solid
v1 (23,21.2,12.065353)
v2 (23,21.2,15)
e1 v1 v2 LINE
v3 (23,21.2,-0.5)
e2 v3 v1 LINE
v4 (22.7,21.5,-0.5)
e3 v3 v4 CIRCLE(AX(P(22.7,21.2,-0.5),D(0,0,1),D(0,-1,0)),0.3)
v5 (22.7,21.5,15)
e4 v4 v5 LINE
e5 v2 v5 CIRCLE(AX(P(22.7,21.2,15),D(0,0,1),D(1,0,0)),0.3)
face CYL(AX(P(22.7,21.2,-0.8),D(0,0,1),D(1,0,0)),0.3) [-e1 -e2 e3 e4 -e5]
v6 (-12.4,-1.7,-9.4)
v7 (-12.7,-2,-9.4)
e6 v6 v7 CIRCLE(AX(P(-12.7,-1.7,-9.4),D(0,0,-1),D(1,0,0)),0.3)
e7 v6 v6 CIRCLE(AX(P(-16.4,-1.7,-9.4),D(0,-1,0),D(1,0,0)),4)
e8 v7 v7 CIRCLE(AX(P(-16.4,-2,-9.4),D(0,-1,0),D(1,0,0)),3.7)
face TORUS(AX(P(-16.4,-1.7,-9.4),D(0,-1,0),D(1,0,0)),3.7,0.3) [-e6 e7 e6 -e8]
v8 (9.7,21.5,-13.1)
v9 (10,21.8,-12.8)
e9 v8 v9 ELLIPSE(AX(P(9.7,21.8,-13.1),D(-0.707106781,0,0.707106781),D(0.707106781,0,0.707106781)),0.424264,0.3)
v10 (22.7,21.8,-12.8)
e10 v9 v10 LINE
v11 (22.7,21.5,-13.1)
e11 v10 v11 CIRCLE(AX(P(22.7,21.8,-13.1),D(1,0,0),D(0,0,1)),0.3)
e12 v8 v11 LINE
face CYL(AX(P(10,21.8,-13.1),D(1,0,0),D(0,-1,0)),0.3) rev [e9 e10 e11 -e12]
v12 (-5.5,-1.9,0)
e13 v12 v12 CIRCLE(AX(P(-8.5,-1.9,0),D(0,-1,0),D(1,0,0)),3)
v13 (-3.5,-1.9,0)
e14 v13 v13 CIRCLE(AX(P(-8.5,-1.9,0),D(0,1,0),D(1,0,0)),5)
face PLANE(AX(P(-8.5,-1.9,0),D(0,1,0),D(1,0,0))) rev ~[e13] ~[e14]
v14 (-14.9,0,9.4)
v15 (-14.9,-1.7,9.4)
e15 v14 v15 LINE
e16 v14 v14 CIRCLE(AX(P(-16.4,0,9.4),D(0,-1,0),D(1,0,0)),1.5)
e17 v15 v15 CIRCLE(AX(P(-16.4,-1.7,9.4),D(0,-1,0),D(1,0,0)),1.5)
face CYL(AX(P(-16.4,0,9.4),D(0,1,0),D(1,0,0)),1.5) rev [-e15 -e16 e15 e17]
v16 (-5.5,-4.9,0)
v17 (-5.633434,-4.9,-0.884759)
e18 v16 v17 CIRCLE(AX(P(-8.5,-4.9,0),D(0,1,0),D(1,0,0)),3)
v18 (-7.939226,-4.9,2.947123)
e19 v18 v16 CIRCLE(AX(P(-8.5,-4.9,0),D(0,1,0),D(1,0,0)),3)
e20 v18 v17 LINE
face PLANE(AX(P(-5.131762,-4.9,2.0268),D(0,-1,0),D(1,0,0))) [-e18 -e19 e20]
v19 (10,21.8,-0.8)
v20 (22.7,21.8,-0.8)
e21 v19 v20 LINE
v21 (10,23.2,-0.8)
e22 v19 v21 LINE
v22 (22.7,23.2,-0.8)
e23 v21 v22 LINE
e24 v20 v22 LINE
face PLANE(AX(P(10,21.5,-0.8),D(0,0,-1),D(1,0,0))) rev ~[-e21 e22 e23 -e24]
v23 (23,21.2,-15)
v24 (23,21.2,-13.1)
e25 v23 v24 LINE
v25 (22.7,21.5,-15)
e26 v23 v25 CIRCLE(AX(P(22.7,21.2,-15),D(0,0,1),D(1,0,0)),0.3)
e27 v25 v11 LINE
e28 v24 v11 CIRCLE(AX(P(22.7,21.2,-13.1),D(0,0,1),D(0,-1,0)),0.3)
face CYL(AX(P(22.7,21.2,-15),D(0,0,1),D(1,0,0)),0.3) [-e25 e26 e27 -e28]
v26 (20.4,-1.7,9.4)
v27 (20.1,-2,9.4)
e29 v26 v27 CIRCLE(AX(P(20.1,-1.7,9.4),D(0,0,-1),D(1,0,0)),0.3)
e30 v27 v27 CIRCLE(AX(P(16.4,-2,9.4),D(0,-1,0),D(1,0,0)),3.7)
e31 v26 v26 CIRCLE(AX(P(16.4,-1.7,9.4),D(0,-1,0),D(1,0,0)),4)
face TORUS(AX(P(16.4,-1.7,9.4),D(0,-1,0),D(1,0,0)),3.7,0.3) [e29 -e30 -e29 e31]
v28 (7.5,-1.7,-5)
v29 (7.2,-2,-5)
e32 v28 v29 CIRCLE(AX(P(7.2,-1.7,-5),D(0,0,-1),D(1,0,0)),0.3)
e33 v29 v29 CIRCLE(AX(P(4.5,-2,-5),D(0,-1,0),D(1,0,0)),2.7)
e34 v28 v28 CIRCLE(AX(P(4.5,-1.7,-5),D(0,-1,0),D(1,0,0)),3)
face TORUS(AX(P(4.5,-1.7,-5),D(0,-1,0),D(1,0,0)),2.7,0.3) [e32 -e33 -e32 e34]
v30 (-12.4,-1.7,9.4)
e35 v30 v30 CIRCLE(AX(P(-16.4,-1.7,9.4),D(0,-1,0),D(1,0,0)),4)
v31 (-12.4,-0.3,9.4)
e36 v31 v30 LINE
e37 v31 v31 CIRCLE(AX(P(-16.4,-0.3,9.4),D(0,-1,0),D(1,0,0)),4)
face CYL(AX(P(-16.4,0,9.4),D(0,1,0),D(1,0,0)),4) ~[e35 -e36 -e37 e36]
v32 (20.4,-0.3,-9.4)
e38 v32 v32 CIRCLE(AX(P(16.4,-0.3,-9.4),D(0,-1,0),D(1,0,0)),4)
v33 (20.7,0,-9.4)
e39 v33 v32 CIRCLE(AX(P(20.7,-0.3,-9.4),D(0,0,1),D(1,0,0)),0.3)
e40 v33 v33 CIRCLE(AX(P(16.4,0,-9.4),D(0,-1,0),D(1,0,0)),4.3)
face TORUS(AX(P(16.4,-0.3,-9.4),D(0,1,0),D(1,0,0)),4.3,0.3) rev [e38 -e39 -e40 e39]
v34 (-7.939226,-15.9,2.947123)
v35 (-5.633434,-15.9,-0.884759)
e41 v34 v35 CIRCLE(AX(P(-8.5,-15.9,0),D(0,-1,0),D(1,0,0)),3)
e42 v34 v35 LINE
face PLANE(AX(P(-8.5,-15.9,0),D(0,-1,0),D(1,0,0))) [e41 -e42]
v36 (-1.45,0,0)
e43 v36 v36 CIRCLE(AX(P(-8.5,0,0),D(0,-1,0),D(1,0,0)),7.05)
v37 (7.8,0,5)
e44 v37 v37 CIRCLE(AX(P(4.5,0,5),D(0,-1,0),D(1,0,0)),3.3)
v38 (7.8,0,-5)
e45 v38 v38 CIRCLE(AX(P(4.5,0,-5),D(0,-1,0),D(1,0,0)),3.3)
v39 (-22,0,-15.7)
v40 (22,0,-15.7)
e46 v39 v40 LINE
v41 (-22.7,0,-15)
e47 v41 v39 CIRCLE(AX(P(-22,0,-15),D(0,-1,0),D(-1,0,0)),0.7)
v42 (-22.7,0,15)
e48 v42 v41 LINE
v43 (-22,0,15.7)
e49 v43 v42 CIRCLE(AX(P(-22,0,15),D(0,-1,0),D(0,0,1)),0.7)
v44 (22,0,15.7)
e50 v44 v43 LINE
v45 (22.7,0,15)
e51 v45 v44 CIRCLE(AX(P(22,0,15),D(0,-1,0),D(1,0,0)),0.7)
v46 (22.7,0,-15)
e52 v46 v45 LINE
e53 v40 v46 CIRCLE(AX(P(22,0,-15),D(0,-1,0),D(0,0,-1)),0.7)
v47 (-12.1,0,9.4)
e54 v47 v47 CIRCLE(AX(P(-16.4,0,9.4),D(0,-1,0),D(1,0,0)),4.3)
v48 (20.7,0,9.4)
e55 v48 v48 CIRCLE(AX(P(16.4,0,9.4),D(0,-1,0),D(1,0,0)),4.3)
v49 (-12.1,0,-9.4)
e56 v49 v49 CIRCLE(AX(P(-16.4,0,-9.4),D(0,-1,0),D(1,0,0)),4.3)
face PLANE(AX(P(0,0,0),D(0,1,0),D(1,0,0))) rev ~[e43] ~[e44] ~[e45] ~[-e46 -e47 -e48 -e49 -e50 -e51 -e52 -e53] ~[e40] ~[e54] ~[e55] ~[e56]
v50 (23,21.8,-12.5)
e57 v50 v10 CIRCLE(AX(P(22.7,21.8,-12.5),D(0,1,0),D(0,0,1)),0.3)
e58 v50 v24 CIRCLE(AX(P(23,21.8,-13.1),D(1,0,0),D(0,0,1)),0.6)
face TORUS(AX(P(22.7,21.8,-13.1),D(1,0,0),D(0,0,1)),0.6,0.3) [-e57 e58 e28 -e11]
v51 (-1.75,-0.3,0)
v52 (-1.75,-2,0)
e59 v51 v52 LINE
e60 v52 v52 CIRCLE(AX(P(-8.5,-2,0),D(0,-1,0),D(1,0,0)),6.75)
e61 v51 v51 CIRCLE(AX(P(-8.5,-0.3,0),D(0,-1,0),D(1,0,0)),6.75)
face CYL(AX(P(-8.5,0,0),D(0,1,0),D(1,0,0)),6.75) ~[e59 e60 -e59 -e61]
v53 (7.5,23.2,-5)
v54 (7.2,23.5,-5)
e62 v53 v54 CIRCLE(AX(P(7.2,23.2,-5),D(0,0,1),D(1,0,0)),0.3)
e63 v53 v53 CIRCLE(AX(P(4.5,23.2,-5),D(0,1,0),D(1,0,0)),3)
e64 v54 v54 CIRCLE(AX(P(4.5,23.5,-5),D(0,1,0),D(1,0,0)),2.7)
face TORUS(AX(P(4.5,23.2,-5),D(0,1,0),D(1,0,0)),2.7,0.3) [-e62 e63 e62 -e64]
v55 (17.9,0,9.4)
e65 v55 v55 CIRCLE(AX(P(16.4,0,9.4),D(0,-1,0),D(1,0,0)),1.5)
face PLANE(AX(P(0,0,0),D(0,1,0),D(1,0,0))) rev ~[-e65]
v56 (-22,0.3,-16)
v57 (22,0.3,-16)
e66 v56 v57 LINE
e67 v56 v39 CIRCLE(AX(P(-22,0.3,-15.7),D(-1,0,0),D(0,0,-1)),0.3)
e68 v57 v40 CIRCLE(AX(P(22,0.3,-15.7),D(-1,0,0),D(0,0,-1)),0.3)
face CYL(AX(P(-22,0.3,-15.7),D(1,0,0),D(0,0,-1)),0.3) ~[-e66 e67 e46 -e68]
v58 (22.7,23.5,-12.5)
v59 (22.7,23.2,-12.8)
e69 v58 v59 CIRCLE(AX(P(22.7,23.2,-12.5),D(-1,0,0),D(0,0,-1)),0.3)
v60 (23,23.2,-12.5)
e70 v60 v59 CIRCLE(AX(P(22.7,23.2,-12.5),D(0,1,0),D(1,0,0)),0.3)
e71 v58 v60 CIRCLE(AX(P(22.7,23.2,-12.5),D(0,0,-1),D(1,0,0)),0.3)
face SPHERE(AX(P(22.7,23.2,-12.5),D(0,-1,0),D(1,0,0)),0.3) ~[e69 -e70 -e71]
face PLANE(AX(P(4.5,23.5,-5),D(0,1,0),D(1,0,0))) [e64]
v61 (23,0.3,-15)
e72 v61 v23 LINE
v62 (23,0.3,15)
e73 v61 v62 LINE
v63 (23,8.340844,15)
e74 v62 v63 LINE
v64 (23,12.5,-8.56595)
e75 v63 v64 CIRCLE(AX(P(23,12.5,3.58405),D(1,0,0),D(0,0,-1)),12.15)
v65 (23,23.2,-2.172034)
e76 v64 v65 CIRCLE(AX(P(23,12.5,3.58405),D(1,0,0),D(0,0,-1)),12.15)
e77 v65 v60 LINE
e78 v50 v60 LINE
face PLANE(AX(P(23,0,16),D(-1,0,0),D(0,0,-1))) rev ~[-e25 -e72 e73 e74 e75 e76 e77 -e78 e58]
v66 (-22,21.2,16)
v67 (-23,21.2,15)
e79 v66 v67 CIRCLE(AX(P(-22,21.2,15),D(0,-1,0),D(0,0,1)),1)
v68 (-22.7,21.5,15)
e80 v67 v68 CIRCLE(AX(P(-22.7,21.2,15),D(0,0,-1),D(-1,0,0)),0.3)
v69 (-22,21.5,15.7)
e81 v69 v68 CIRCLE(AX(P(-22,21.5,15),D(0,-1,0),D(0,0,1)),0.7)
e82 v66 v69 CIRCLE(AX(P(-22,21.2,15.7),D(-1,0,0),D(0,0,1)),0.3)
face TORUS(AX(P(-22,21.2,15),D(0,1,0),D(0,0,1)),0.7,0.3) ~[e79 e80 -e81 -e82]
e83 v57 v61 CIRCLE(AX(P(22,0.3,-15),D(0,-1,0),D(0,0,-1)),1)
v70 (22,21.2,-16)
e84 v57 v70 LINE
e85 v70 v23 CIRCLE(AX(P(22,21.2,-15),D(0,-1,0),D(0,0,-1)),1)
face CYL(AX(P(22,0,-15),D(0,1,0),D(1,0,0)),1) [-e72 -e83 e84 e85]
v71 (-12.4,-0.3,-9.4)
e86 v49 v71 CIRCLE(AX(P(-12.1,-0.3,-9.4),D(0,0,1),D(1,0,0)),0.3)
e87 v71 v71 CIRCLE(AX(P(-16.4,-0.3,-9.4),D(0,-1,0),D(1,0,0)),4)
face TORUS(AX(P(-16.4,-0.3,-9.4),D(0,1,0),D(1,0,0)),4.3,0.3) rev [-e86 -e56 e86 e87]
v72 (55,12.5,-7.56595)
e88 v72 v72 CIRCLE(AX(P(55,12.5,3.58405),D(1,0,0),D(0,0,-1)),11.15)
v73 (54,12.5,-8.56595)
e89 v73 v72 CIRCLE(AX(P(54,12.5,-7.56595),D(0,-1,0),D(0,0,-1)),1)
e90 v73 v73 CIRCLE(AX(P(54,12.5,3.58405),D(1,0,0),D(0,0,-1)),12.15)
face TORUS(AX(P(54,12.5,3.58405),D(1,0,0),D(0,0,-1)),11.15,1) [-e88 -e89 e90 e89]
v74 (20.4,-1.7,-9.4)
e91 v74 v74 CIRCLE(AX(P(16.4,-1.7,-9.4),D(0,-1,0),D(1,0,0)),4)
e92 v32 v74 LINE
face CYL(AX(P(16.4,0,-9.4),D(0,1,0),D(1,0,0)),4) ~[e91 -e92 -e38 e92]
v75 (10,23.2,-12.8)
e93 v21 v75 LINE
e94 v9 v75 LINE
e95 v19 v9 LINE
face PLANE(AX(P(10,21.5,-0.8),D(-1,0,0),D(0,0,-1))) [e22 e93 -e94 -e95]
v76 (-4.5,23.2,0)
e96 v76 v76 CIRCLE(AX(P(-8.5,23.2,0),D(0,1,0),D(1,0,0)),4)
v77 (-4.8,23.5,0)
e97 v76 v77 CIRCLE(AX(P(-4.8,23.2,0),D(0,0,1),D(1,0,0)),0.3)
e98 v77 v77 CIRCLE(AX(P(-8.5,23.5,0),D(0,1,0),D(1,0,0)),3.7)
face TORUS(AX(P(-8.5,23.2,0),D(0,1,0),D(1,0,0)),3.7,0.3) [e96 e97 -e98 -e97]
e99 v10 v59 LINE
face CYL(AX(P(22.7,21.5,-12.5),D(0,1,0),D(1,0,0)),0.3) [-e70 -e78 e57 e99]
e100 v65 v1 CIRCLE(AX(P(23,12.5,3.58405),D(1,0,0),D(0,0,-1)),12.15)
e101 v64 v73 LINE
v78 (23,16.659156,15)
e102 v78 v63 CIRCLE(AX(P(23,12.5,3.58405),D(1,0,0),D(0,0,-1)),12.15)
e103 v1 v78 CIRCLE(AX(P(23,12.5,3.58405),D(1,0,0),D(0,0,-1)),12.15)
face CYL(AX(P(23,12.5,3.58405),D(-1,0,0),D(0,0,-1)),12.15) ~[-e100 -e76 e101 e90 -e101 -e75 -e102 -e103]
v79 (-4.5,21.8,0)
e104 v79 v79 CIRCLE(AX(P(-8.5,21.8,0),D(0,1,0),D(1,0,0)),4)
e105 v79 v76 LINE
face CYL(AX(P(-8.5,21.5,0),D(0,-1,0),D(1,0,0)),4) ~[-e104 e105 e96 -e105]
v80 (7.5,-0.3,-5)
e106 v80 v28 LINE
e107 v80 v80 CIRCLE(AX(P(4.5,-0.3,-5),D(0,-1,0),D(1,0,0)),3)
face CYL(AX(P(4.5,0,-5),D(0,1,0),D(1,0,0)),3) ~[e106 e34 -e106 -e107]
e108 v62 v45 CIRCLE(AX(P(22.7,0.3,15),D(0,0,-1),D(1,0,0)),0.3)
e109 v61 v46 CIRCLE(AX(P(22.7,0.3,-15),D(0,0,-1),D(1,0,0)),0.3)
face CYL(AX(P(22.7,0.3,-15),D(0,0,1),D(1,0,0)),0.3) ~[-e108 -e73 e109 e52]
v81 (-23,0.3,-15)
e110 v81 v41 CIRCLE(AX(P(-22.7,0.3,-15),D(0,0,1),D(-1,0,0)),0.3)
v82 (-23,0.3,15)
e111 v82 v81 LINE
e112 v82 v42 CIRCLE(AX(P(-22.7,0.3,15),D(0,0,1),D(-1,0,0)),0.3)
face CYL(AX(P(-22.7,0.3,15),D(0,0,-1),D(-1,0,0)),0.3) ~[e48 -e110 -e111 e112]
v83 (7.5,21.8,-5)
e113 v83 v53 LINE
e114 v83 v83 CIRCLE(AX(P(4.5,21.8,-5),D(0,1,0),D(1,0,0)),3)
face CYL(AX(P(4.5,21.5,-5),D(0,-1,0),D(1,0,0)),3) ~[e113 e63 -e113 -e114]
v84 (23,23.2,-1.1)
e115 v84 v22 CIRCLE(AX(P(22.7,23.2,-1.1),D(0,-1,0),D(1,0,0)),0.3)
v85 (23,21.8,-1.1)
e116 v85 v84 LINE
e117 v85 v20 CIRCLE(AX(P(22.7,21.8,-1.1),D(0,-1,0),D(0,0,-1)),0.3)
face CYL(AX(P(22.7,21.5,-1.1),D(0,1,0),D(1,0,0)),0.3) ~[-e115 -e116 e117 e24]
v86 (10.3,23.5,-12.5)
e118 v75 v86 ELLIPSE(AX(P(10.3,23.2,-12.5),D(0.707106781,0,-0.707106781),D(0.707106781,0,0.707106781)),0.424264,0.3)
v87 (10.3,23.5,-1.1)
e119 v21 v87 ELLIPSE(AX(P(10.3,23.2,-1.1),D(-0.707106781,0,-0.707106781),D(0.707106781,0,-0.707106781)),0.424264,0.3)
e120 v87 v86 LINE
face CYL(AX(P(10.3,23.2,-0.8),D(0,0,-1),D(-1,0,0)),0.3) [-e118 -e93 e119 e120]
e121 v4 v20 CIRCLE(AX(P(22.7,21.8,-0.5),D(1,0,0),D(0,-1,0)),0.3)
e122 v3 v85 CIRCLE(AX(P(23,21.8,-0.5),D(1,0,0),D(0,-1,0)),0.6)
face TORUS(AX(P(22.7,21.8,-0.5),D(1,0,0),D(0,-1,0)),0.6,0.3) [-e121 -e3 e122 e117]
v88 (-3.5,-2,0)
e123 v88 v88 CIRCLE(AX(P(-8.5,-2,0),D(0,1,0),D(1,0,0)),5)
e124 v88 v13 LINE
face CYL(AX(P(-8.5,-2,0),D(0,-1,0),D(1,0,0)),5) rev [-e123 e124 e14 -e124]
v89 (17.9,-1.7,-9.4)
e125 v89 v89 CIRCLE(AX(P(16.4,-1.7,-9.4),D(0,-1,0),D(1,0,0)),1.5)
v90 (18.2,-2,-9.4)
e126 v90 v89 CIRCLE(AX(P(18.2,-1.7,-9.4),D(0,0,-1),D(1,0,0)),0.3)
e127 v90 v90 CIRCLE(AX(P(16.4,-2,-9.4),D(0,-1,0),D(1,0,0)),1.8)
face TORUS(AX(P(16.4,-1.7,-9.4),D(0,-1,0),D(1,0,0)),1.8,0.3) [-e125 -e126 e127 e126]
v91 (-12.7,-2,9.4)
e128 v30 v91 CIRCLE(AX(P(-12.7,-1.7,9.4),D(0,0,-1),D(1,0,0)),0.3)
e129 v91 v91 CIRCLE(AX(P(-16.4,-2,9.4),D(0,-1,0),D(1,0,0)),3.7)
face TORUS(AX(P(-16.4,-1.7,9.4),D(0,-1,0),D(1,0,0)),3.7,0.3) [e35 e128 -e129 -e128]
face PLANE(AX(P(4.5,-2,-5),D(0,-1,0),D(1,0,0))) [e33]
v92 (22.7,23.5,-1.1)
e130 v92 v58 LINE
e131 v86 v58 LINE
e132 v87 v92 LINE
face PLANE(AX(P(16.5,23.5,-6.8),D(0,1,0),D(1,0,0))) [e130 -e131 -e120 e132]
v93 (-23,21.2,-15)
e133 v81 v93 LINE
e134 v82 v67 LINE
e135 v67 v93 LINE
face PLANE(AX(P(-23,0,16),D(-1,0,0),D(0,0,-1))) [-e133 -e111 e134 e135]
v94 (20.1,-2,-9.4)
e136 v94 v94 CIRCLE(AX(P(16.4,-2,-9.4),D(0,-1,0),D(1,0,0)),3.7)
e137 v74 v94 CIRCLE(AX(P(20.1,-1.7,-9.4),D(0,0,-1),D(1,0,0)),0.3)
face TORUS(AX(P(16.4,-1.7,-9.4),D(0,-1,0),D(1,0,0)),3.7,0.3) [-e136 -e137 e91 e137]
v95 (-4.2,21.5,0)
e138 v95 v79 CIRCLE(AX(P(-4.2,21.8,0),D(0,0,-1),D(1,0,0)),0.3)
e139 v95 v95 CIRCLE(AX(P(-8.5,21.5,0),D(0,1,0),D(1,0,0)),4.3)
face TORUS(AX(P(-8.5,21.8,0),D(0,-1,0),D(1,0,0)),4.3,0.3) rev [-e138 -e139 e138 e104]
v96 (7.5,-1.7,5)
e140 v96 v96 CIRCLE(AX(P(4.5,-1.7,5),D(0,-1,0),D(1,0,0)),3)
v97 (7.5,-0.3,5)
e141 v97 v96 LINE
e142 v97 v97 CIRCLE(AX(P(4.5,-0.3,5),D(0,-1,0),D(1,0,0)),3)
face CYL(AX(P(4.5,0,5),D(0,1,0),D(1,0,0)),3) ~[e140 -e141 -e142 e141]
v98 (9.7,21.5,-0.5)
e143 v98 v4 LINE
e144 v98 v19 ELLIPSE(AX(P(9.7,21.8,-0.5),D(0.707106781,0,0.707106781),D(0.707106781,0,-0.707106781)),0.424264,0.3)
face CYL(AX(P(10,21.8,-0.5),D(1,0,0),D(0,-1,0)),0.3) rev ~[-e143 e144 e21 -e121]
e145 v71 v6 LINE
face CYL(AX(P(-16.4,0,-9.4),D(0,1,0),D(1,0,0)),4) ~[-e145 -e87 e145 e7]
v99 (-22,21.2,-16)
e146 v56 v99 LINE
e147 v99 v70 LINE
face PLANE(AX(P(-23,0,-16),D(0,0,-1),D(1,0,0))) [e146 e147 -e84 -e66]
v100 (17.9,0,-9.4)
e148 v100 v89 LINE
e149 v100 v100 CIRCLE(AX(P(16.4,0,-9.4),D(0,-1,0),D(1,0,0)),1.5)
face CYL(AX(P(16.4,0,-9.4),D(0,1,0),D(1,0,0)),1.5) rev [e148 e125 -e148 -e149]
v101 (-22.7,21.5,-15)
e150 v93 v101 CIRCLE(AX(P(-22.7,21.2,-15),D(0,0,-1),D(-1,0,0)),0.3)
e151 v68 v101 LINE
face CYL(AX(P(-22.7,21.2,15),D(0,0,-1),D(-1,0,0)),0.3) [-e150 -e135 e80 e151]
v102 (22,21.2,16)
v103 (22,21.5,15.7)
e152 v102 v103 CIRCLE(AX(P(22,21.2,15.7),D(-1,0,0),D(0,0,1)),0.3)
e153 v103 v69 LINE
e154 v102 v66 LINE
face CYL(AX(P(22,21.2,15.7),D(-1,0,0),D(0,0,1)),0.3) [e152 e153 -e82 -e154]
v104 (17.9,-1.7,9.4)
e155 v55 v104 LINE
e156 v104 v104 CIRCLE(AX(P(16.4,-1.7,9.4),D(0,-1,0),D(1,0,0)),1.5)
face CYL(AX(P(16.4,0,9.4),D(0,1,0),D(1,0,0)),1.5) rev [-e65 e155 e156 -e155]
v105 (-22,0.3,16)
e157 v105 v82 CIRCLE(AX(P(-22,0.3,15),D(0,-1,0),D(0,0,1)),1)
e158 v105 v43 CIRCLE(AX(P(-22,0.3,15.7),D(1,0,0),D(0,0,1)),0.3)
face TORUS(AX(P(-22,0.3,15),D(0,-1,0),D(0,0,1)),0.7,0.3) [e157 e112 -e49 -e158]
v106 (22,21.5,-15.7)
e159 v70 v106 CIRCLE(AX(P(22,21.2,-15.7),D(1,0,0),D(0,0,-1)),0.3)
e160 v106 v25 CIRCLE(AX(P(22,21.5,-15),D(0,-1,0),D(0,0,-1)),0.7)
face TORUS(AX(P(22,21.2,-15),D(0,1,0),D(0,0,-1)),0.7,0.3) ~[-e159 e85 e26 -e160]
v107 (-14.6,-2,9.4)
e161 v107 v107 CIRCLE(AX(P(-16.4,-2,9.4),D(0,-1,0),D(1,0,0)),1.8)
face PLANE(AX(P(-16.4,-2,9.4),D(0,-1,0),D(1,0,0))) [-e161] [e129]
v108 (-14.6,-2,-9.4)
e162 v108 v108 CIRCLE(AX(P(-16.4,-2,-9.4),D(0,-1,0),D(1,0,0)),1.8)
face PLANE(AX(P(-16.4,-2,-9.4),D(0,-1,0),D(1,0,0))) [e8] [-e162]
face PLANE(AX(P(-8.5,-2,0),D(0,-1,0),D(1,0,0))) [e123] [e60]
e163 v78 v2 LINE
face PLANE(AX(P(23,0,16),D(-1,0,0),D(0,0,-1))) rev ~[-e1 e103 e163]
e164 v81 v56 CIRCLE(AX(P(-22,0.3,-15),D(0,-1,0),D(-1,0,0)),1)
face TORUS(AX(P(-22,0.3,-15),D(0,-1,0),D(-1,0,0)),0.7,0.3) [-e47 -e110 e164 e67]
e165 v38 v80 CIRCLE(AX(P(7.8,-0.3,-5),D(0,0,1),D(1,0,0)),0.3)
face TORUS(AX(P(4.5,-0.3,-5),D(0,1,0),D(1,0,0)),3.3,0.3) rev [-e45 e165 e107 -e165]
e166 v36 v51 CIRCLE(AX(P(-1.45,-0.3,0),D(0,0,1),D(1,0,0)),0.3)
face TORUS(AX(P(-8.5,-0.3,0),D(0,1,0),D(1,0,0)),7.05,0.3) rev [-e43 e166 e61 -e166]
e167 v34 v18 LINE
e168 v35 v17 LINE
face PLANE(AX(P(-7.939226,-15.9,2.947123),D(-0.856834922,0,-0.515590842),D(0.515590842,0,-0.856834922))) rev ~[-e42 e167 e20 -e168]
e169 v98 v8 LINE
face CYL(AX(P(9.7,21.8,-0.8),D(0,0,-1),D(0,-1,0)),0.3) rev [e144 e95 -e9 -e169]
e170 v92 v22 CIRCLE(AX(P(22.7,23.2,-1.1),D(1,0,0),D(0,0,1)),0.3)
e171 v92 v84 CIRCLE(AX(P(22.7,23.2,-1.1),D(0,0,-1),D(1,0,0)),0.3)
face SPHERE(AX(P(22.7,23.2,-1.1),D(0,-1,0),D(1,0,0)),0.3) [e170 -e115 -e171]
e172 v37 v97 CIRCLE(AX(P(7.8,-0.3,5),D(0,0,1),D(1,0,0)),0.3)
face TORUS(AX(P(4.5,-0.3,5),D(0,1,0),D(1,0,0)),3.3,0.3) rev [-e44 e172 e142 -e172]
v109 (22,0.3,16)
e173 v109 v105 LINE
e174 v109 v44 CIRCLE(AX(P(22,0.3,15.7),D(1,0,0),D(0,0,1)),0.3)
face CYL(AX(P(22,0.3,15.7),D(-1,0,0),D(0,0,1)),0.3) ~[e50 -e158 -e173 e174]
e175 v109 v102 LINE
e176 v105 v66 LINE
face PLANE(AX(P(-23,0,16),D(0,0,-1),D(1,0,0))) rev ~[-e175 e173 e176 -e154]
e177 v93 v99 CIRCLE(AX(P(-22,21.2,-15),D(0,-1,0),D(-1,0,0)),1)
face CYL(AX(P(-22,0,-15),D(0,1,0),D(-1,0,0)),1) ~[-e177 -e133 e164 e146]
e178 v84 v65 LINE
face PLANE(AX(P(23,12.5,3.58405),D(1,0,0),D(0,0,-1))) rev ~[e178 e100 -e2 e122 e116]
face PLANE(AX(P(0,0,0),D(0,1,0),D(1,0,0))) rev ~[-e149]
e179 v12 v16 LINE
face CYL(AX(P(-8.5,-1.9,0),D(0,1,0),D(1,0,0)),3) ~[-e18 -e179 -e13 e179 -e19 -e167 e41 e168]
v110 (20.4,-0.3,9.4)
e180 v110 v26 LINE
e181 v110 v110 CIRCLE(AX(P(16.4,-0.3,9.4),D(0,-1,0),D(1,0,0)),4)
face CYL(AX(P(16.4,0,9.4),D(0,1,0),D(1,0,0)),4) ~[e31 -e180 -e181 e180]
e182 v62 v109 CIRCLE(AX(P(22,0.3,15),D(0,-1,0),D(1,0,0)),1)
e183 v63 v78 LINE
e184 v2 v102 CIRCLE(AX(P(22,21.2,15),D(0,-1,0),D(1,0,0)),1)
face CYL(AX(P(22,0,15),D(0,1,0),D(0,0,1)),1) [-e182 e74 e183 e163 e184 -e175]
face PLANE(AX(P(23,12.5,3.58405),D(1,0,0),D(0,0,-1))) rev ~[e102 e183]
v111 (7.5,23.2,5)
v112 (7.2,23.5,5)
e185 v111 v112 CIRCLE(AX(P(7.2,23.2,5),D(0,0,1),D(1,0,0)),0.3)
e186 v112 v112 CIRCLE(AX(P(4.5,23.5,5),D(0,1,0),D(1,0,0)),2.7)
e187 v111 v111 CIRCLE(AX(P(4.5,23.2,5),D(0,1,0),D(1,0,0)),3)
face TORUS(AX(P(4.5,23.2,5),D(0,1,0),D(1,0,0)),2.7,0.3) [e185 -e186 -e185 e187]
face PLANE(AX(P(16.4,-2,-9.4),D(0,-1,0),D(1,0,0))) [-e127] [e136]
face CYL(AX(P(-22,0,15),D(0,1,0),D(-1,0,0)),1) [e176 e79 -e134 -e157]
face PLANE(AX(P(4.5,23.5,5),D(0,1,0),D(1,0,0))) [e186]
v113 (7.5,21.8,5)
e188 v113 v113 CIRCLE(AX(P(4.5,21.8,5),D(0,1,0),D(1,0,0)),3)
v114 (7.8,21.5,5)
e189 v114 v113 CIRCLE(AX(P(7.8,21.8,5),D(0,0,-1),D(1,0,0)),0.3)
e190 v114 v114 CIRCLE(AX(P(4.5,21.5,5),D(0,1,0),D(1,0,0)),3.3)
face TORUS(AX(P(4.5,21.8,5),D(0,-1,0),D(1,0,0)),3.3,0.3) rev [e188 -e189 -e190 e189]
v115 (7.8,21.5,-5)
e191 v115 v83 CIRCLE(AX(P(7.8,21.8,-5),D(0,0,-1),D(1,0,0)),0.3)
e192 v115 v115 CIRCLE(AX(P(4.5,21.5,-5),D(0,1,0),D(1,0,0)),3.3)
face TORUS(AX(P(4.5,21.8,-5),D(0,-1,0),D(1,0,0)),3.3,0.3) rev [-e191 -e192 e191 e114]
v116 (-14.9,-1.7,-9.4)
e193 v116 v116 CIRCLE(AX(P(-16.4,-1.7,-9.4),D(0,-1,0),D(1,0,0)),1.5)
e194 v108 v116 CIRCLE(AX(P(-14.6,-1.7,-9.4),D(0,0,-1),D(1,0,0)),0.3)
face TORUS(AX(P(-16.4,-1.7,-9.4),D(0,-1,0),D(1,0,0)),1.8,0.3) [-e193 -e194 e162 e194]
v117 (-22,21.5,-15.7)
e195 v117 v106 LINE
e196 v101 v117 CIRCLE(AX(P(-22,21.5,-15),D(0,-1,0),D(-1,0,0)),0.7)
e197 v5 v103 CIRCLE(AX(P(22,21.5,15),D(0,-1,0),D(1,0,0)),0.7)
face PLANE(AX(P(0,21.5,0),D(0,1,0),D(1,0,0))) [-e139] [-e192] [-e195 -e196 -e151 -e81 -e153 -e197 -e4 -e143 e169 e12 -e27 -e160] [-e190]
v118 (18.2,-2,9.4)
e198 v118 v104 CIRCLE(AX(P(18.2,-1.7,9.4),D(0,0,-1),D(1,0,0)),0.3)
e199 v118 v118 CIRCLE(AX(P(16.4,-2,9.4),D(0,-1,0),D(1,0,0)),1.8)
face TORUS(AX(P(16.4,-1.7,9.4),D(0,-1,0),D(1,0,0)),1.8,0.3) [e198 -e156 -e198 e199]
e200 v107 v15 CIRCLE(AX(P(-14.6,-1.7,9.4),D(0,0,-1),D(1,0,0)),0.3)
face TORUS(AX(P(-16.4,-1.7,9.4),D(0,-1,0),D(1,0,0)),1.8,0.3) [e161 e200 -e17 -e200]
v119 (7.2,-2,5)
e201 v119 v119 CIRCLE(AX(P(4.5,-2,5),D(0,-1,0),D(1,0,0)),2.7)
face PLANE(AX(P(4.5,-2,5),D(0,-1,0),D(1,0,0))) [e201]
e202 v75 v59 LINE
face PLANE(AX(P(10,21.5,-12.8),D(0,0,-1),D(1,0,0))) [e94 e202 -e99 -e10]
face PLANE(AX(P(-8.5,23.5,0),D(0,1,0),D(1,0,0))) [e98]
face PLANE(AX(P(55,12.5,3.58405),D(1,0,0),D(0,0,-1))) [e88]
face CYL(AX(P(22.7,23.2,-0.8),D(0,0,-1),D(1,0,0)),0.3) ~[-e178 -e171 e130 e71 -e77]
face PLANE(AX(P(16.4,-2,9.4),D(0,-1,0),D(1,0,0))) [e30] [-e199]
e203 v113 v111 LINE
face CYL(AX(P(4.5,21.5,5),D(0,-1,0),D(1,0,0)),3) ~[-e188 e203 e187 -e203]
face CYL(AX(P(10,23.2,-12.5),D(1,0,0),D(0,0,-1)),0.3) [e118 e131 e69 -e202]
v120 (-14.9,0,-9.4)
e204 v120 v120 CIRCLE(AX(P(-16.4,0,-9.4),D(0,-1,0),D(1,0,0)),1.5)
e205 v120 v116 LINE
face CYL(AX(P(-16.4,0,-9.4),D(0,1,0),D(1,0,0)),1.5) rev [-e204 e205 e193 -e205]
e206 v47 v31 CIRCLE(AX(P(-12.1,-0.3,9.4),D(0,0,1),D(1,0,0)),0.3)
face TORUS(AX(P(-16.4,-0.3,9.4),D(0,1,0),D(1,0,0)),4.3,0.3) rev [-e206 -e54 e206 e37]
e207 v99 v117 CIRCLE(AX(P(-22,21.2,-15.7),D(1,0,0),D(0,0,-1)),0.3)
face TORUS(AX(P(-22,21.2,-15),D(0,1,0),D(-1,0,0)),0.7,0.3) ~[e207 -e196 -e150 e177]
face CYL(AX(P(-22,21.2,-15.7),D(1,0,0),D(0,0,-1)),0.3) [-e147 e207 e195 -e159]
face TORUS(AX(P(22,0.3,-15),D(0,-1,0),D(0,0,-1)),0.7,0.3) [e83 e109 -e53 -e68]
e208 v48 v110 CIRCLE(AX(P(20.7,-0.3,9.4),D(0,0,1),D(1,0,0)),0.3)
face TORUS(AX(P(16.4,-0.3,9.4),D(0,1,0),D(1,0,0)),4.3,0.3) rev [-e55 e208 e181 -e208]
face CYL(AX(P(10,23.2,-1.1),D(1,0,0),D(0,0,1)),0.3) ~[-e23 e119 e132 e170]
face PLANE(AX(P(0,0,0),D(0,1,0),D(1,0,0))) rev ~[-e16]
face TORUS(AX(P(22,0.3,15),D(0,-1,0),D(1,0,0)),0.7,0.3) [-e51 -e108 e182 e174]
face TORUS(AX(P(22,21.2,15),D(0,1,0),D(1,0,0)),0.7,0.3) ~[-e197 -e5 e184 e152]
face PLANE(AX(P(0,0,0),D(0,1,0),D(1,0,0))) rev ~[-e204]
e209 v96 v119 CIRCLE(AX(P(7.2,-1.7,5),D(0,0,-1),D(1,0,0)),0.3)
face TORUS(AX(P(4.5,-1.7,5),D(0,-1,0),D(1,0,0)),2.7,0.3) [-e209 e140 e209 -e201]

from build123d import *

# Parameters (mm, degrees)
SKETCH1_W           = 46
SKETCH1_H           = 32
BOSS_EXTRUDE1_DEPTH = 21.5
FILLET1_R           = 1
SKETCH2_W           = 13
SKETCH2_H           = 12
BOSS_EXTRUDE2_DEPTH = 2
SKETCH3_R           = 4
SKETCH3_R_2         = 3
BOSS_EXTRUDE3_DEPTH = 2
SKETCH4_R           = 6.75
SKETCH4_R_2         = 4
SKETCH4_R_3         = 1.5
SKETCH4_R_4         = 3
BOSS_EXTRUDE4_DEPTH = 2
FILLET2_R           = 0.3
SKETCH5_R           = 12.15
BOSS_EXTRUDE5_DEPTH = 32
FILLET3_R           = 1
SKETCH6_R           = 5
CUT_EXTRUDE1_DEPTH  = 0.1
SKETCH7_R           = 3
BOSS_EXTRUDE6_DEPTH = 14
CUT_EXTRUDE2_DEPTH  = 11


with BuildPart() as part:
    # Sketch1 → Boss-Extrude1 (new body)
    with BuildSketch(Plane(origin=(0, 0, 0), x_dir=(1, 0, 0), z_dir=(0, 1, 0))):
        Rectangle(SKETCH1_W, SKETCH1_H)
    extrude(amount=BOSS_EXTRUDE1_DEPTH)

    # Fillet1
    fillet1_edges = [part.edges().sort_by_distance(p)[0] for p in [
        (23, 10.75, 16),
        (-23, 10.75, 16),
        (-23, 10.75, -16),
        (23, 10.75, -16),
    ]]
    fillet(fillet1_edges, radius=FILLET1_R)

    # Sketch2 → Boss-Extrude2 (add)
    with BuildSketch(Plane(origin=(0, 21.5, 0), x_dir=(1, 0, 0), z_dir=(0, 1, 0))):
        with Locations((16.5, 6.8)):
            Rectangle(SKETCH2_W, SKETCH2_H)
    extrude(amount=BOSS_EXTRUDE2_DEPTH)

    # Sketch3 → Boss-Extrude3 (add)
    with BuildSketch(Plane(origin=(0, 21.5, 0), x_dir=(1, 0, 0), z_dir=(0, 1, 0))):
        with Locations((-8.5, 0)):
            Circle(SKETCH3_R)
        with Locations((4.5, 5)):
            Circle(SKETCH3_R_2)
        with Locations((4.5, -5)):
            Circle(SKETCH3_R_2)
    extrude(amount=BOSS_EXTRUDE3_DEPTH)

    # Sketch4 → Boss-Extrude4 (add)
    with BuildSketch(Plane.XZ):
        with Locations((-8.5, 0)):
            Circle(SKETCH4_R)
        with Locations((-16.4, 9.4)):
            Circle(SKETCH4_R_2)
        with Locations((-16.4, 9.4)):
            Circle(SKETCH4_R_3, mode=Mode.SUBTRACT)
        with Locations((-16.4, -9.4)):
            Circle(SKETCH4_R_2)
        with Locations((-16.4, -9.4)):
            Circle(SKETCH4_R_3, mode=Mode.SUBTRACT)
        with Locations((16.4, -9.4)):
            Circle(SKETCH4_R_2)
        with Locations((16.4, -9.4)):
            Circle(SKETCH4_R_3, mode=Mode.SUBTRACT)
        with Locations((16.4, 9.4)):
            Circle(SKETCH4_R_2)
        with Locations((16.4, 9.4)):
            Circle(SKETCH4_R_3, mode=Mode.SUBTRACT)
        with Locations((4.5, 5)):
            Circle(SKETCH4_R_4)
        with Locations((4.5, -5)):
            Circle(SKETCH4_R_4)
    extrude(amount=BOSS_EXTRUDE4_DEPTH)

    # Fillet2
    fillet2_edges = [part.edges().sort_by_distance(p)[0] for p in [
        (1.5, -2, -5),
        (-23, 0, 0),
        (-23, 21.5, 0),
        (23, 0, 0),
        (0, 0, 16),
        (0, 0, -16),
        (22.707106781, 0, 15.707106781),
        (22.707106781, 0, -15.707106781),
        (-22.707106781, 0, 15.707106781),
        (-22.707106781, 0, -15.707106781),
        (0, 21.5, -16),
        (23, 21.5, 7.1),
        (0, 21.5, 16),
        (22.707106781, 21.5, 15.707106781),
        (22.707106781, 21.5, -15.707106781),
        (-22.707106781, 21.5, 15.707106781),
        (-22.707106781, 21.5, -15.707106781),
        (23, 21.5, -13.9),
        (23, 22.5, -0.8),
        (16.5, 21.5, -12.8),
        (23, 22.5, -12.8),
        (10, 21.5, -6.8),
        (16.5, 21.5, -0.8),
        (23, 23.5, -6.8),
        (16.5, 23.5, -12.8),
        (10, 23.5, -6.8),
        (16.5, 23.5, -0.8),
        (-12.5, 21.5, 0),
        (-12.5, 23.5, 0),
        (1.5, 21.5, -5),
        (1.5, 23.5, -5),
        (1.5, 21.5, 5),
        (1.5, 23.5, 5),
        (-15.25, 0, 0),
        (-20.4, 0, 9.4),
        (-20.4, -2, 9.4),
        (-17.9, -2, 9.4),
        (-20.4, 0, -9.4),
        (-20.4, -2, -9.4),
        (-17.9, -2, -9.4),
        (12.4, 0, -9.4),
        (12.4, -2, -9.4),
        (14.9, -2, -9.4),
        (12.4, 0, 9.4),
        (12.4, -2, 9.4),
        (14.9, -2, 9.4),
        (1.5, 0, 5),
        (1.5, -2, 5),
        (1.5, 0, -5),
    ]]
    fillet(fillet2_edges, radius=FILLET2_R)

    # Sketch5 → Boss-Extrude5 (add)
    with BuildSketch(Plane(origin=(23, 0, 0), x_dir=(0, 0, -1), z_dir=(1, 0, 0))):
        with Locations((-3.584049663, 12.5)):
            Circle(SKETCH5_R)
    extrude(amount=BOSS_EXTRUDE5_DEPTH)

    # Fillet3
    fillet3_edges = [part.edges().sort_by_distance(p)[0] for p in [
        (55, 12.5, 15.734049663),
    ]]
    fillet(fillet3_edges, radius=FILLET3_R)

    # Sketch6 → Cut-Extrude1 (cut)
    with BuildSketch(Plane(origin=(0, -2, 0), x_dir=(1, 0, 0), z_dir=(0, 1, 0))):
        with Locations((-8.5, 0)):
            Circle(SKETCH6_R)
    extrude(amount=CUT_EXTRUDE1_DEPTH, mode=Mode.SUBTRACT)

    # Sketch7 → Boss-Extrude6 (add)
    with BuildSketch(Plane.XZ.offset(1.9)):
        with Locations((-8.5, 0)):
            Circle(SKETCH7_R)
    extrude(amount=BOSS_EXTRUDE6_DEPTH)

    # Sketch8 → Cut-Extrude2 (cut)
    with BuildSketch(Plane.XZ.offset(15.9)):
        Polygon((-7.939226328, 2.947122815), (-5.633433984, -0.884759447), (-2.324296826, 1.10647687), (-4.630089169, 4.938359132), align=None)
    extrude(amount=-CUT_EXTRUDE2_DEPTH, mode=Mode.SUBTRACT)


solid = part.part
